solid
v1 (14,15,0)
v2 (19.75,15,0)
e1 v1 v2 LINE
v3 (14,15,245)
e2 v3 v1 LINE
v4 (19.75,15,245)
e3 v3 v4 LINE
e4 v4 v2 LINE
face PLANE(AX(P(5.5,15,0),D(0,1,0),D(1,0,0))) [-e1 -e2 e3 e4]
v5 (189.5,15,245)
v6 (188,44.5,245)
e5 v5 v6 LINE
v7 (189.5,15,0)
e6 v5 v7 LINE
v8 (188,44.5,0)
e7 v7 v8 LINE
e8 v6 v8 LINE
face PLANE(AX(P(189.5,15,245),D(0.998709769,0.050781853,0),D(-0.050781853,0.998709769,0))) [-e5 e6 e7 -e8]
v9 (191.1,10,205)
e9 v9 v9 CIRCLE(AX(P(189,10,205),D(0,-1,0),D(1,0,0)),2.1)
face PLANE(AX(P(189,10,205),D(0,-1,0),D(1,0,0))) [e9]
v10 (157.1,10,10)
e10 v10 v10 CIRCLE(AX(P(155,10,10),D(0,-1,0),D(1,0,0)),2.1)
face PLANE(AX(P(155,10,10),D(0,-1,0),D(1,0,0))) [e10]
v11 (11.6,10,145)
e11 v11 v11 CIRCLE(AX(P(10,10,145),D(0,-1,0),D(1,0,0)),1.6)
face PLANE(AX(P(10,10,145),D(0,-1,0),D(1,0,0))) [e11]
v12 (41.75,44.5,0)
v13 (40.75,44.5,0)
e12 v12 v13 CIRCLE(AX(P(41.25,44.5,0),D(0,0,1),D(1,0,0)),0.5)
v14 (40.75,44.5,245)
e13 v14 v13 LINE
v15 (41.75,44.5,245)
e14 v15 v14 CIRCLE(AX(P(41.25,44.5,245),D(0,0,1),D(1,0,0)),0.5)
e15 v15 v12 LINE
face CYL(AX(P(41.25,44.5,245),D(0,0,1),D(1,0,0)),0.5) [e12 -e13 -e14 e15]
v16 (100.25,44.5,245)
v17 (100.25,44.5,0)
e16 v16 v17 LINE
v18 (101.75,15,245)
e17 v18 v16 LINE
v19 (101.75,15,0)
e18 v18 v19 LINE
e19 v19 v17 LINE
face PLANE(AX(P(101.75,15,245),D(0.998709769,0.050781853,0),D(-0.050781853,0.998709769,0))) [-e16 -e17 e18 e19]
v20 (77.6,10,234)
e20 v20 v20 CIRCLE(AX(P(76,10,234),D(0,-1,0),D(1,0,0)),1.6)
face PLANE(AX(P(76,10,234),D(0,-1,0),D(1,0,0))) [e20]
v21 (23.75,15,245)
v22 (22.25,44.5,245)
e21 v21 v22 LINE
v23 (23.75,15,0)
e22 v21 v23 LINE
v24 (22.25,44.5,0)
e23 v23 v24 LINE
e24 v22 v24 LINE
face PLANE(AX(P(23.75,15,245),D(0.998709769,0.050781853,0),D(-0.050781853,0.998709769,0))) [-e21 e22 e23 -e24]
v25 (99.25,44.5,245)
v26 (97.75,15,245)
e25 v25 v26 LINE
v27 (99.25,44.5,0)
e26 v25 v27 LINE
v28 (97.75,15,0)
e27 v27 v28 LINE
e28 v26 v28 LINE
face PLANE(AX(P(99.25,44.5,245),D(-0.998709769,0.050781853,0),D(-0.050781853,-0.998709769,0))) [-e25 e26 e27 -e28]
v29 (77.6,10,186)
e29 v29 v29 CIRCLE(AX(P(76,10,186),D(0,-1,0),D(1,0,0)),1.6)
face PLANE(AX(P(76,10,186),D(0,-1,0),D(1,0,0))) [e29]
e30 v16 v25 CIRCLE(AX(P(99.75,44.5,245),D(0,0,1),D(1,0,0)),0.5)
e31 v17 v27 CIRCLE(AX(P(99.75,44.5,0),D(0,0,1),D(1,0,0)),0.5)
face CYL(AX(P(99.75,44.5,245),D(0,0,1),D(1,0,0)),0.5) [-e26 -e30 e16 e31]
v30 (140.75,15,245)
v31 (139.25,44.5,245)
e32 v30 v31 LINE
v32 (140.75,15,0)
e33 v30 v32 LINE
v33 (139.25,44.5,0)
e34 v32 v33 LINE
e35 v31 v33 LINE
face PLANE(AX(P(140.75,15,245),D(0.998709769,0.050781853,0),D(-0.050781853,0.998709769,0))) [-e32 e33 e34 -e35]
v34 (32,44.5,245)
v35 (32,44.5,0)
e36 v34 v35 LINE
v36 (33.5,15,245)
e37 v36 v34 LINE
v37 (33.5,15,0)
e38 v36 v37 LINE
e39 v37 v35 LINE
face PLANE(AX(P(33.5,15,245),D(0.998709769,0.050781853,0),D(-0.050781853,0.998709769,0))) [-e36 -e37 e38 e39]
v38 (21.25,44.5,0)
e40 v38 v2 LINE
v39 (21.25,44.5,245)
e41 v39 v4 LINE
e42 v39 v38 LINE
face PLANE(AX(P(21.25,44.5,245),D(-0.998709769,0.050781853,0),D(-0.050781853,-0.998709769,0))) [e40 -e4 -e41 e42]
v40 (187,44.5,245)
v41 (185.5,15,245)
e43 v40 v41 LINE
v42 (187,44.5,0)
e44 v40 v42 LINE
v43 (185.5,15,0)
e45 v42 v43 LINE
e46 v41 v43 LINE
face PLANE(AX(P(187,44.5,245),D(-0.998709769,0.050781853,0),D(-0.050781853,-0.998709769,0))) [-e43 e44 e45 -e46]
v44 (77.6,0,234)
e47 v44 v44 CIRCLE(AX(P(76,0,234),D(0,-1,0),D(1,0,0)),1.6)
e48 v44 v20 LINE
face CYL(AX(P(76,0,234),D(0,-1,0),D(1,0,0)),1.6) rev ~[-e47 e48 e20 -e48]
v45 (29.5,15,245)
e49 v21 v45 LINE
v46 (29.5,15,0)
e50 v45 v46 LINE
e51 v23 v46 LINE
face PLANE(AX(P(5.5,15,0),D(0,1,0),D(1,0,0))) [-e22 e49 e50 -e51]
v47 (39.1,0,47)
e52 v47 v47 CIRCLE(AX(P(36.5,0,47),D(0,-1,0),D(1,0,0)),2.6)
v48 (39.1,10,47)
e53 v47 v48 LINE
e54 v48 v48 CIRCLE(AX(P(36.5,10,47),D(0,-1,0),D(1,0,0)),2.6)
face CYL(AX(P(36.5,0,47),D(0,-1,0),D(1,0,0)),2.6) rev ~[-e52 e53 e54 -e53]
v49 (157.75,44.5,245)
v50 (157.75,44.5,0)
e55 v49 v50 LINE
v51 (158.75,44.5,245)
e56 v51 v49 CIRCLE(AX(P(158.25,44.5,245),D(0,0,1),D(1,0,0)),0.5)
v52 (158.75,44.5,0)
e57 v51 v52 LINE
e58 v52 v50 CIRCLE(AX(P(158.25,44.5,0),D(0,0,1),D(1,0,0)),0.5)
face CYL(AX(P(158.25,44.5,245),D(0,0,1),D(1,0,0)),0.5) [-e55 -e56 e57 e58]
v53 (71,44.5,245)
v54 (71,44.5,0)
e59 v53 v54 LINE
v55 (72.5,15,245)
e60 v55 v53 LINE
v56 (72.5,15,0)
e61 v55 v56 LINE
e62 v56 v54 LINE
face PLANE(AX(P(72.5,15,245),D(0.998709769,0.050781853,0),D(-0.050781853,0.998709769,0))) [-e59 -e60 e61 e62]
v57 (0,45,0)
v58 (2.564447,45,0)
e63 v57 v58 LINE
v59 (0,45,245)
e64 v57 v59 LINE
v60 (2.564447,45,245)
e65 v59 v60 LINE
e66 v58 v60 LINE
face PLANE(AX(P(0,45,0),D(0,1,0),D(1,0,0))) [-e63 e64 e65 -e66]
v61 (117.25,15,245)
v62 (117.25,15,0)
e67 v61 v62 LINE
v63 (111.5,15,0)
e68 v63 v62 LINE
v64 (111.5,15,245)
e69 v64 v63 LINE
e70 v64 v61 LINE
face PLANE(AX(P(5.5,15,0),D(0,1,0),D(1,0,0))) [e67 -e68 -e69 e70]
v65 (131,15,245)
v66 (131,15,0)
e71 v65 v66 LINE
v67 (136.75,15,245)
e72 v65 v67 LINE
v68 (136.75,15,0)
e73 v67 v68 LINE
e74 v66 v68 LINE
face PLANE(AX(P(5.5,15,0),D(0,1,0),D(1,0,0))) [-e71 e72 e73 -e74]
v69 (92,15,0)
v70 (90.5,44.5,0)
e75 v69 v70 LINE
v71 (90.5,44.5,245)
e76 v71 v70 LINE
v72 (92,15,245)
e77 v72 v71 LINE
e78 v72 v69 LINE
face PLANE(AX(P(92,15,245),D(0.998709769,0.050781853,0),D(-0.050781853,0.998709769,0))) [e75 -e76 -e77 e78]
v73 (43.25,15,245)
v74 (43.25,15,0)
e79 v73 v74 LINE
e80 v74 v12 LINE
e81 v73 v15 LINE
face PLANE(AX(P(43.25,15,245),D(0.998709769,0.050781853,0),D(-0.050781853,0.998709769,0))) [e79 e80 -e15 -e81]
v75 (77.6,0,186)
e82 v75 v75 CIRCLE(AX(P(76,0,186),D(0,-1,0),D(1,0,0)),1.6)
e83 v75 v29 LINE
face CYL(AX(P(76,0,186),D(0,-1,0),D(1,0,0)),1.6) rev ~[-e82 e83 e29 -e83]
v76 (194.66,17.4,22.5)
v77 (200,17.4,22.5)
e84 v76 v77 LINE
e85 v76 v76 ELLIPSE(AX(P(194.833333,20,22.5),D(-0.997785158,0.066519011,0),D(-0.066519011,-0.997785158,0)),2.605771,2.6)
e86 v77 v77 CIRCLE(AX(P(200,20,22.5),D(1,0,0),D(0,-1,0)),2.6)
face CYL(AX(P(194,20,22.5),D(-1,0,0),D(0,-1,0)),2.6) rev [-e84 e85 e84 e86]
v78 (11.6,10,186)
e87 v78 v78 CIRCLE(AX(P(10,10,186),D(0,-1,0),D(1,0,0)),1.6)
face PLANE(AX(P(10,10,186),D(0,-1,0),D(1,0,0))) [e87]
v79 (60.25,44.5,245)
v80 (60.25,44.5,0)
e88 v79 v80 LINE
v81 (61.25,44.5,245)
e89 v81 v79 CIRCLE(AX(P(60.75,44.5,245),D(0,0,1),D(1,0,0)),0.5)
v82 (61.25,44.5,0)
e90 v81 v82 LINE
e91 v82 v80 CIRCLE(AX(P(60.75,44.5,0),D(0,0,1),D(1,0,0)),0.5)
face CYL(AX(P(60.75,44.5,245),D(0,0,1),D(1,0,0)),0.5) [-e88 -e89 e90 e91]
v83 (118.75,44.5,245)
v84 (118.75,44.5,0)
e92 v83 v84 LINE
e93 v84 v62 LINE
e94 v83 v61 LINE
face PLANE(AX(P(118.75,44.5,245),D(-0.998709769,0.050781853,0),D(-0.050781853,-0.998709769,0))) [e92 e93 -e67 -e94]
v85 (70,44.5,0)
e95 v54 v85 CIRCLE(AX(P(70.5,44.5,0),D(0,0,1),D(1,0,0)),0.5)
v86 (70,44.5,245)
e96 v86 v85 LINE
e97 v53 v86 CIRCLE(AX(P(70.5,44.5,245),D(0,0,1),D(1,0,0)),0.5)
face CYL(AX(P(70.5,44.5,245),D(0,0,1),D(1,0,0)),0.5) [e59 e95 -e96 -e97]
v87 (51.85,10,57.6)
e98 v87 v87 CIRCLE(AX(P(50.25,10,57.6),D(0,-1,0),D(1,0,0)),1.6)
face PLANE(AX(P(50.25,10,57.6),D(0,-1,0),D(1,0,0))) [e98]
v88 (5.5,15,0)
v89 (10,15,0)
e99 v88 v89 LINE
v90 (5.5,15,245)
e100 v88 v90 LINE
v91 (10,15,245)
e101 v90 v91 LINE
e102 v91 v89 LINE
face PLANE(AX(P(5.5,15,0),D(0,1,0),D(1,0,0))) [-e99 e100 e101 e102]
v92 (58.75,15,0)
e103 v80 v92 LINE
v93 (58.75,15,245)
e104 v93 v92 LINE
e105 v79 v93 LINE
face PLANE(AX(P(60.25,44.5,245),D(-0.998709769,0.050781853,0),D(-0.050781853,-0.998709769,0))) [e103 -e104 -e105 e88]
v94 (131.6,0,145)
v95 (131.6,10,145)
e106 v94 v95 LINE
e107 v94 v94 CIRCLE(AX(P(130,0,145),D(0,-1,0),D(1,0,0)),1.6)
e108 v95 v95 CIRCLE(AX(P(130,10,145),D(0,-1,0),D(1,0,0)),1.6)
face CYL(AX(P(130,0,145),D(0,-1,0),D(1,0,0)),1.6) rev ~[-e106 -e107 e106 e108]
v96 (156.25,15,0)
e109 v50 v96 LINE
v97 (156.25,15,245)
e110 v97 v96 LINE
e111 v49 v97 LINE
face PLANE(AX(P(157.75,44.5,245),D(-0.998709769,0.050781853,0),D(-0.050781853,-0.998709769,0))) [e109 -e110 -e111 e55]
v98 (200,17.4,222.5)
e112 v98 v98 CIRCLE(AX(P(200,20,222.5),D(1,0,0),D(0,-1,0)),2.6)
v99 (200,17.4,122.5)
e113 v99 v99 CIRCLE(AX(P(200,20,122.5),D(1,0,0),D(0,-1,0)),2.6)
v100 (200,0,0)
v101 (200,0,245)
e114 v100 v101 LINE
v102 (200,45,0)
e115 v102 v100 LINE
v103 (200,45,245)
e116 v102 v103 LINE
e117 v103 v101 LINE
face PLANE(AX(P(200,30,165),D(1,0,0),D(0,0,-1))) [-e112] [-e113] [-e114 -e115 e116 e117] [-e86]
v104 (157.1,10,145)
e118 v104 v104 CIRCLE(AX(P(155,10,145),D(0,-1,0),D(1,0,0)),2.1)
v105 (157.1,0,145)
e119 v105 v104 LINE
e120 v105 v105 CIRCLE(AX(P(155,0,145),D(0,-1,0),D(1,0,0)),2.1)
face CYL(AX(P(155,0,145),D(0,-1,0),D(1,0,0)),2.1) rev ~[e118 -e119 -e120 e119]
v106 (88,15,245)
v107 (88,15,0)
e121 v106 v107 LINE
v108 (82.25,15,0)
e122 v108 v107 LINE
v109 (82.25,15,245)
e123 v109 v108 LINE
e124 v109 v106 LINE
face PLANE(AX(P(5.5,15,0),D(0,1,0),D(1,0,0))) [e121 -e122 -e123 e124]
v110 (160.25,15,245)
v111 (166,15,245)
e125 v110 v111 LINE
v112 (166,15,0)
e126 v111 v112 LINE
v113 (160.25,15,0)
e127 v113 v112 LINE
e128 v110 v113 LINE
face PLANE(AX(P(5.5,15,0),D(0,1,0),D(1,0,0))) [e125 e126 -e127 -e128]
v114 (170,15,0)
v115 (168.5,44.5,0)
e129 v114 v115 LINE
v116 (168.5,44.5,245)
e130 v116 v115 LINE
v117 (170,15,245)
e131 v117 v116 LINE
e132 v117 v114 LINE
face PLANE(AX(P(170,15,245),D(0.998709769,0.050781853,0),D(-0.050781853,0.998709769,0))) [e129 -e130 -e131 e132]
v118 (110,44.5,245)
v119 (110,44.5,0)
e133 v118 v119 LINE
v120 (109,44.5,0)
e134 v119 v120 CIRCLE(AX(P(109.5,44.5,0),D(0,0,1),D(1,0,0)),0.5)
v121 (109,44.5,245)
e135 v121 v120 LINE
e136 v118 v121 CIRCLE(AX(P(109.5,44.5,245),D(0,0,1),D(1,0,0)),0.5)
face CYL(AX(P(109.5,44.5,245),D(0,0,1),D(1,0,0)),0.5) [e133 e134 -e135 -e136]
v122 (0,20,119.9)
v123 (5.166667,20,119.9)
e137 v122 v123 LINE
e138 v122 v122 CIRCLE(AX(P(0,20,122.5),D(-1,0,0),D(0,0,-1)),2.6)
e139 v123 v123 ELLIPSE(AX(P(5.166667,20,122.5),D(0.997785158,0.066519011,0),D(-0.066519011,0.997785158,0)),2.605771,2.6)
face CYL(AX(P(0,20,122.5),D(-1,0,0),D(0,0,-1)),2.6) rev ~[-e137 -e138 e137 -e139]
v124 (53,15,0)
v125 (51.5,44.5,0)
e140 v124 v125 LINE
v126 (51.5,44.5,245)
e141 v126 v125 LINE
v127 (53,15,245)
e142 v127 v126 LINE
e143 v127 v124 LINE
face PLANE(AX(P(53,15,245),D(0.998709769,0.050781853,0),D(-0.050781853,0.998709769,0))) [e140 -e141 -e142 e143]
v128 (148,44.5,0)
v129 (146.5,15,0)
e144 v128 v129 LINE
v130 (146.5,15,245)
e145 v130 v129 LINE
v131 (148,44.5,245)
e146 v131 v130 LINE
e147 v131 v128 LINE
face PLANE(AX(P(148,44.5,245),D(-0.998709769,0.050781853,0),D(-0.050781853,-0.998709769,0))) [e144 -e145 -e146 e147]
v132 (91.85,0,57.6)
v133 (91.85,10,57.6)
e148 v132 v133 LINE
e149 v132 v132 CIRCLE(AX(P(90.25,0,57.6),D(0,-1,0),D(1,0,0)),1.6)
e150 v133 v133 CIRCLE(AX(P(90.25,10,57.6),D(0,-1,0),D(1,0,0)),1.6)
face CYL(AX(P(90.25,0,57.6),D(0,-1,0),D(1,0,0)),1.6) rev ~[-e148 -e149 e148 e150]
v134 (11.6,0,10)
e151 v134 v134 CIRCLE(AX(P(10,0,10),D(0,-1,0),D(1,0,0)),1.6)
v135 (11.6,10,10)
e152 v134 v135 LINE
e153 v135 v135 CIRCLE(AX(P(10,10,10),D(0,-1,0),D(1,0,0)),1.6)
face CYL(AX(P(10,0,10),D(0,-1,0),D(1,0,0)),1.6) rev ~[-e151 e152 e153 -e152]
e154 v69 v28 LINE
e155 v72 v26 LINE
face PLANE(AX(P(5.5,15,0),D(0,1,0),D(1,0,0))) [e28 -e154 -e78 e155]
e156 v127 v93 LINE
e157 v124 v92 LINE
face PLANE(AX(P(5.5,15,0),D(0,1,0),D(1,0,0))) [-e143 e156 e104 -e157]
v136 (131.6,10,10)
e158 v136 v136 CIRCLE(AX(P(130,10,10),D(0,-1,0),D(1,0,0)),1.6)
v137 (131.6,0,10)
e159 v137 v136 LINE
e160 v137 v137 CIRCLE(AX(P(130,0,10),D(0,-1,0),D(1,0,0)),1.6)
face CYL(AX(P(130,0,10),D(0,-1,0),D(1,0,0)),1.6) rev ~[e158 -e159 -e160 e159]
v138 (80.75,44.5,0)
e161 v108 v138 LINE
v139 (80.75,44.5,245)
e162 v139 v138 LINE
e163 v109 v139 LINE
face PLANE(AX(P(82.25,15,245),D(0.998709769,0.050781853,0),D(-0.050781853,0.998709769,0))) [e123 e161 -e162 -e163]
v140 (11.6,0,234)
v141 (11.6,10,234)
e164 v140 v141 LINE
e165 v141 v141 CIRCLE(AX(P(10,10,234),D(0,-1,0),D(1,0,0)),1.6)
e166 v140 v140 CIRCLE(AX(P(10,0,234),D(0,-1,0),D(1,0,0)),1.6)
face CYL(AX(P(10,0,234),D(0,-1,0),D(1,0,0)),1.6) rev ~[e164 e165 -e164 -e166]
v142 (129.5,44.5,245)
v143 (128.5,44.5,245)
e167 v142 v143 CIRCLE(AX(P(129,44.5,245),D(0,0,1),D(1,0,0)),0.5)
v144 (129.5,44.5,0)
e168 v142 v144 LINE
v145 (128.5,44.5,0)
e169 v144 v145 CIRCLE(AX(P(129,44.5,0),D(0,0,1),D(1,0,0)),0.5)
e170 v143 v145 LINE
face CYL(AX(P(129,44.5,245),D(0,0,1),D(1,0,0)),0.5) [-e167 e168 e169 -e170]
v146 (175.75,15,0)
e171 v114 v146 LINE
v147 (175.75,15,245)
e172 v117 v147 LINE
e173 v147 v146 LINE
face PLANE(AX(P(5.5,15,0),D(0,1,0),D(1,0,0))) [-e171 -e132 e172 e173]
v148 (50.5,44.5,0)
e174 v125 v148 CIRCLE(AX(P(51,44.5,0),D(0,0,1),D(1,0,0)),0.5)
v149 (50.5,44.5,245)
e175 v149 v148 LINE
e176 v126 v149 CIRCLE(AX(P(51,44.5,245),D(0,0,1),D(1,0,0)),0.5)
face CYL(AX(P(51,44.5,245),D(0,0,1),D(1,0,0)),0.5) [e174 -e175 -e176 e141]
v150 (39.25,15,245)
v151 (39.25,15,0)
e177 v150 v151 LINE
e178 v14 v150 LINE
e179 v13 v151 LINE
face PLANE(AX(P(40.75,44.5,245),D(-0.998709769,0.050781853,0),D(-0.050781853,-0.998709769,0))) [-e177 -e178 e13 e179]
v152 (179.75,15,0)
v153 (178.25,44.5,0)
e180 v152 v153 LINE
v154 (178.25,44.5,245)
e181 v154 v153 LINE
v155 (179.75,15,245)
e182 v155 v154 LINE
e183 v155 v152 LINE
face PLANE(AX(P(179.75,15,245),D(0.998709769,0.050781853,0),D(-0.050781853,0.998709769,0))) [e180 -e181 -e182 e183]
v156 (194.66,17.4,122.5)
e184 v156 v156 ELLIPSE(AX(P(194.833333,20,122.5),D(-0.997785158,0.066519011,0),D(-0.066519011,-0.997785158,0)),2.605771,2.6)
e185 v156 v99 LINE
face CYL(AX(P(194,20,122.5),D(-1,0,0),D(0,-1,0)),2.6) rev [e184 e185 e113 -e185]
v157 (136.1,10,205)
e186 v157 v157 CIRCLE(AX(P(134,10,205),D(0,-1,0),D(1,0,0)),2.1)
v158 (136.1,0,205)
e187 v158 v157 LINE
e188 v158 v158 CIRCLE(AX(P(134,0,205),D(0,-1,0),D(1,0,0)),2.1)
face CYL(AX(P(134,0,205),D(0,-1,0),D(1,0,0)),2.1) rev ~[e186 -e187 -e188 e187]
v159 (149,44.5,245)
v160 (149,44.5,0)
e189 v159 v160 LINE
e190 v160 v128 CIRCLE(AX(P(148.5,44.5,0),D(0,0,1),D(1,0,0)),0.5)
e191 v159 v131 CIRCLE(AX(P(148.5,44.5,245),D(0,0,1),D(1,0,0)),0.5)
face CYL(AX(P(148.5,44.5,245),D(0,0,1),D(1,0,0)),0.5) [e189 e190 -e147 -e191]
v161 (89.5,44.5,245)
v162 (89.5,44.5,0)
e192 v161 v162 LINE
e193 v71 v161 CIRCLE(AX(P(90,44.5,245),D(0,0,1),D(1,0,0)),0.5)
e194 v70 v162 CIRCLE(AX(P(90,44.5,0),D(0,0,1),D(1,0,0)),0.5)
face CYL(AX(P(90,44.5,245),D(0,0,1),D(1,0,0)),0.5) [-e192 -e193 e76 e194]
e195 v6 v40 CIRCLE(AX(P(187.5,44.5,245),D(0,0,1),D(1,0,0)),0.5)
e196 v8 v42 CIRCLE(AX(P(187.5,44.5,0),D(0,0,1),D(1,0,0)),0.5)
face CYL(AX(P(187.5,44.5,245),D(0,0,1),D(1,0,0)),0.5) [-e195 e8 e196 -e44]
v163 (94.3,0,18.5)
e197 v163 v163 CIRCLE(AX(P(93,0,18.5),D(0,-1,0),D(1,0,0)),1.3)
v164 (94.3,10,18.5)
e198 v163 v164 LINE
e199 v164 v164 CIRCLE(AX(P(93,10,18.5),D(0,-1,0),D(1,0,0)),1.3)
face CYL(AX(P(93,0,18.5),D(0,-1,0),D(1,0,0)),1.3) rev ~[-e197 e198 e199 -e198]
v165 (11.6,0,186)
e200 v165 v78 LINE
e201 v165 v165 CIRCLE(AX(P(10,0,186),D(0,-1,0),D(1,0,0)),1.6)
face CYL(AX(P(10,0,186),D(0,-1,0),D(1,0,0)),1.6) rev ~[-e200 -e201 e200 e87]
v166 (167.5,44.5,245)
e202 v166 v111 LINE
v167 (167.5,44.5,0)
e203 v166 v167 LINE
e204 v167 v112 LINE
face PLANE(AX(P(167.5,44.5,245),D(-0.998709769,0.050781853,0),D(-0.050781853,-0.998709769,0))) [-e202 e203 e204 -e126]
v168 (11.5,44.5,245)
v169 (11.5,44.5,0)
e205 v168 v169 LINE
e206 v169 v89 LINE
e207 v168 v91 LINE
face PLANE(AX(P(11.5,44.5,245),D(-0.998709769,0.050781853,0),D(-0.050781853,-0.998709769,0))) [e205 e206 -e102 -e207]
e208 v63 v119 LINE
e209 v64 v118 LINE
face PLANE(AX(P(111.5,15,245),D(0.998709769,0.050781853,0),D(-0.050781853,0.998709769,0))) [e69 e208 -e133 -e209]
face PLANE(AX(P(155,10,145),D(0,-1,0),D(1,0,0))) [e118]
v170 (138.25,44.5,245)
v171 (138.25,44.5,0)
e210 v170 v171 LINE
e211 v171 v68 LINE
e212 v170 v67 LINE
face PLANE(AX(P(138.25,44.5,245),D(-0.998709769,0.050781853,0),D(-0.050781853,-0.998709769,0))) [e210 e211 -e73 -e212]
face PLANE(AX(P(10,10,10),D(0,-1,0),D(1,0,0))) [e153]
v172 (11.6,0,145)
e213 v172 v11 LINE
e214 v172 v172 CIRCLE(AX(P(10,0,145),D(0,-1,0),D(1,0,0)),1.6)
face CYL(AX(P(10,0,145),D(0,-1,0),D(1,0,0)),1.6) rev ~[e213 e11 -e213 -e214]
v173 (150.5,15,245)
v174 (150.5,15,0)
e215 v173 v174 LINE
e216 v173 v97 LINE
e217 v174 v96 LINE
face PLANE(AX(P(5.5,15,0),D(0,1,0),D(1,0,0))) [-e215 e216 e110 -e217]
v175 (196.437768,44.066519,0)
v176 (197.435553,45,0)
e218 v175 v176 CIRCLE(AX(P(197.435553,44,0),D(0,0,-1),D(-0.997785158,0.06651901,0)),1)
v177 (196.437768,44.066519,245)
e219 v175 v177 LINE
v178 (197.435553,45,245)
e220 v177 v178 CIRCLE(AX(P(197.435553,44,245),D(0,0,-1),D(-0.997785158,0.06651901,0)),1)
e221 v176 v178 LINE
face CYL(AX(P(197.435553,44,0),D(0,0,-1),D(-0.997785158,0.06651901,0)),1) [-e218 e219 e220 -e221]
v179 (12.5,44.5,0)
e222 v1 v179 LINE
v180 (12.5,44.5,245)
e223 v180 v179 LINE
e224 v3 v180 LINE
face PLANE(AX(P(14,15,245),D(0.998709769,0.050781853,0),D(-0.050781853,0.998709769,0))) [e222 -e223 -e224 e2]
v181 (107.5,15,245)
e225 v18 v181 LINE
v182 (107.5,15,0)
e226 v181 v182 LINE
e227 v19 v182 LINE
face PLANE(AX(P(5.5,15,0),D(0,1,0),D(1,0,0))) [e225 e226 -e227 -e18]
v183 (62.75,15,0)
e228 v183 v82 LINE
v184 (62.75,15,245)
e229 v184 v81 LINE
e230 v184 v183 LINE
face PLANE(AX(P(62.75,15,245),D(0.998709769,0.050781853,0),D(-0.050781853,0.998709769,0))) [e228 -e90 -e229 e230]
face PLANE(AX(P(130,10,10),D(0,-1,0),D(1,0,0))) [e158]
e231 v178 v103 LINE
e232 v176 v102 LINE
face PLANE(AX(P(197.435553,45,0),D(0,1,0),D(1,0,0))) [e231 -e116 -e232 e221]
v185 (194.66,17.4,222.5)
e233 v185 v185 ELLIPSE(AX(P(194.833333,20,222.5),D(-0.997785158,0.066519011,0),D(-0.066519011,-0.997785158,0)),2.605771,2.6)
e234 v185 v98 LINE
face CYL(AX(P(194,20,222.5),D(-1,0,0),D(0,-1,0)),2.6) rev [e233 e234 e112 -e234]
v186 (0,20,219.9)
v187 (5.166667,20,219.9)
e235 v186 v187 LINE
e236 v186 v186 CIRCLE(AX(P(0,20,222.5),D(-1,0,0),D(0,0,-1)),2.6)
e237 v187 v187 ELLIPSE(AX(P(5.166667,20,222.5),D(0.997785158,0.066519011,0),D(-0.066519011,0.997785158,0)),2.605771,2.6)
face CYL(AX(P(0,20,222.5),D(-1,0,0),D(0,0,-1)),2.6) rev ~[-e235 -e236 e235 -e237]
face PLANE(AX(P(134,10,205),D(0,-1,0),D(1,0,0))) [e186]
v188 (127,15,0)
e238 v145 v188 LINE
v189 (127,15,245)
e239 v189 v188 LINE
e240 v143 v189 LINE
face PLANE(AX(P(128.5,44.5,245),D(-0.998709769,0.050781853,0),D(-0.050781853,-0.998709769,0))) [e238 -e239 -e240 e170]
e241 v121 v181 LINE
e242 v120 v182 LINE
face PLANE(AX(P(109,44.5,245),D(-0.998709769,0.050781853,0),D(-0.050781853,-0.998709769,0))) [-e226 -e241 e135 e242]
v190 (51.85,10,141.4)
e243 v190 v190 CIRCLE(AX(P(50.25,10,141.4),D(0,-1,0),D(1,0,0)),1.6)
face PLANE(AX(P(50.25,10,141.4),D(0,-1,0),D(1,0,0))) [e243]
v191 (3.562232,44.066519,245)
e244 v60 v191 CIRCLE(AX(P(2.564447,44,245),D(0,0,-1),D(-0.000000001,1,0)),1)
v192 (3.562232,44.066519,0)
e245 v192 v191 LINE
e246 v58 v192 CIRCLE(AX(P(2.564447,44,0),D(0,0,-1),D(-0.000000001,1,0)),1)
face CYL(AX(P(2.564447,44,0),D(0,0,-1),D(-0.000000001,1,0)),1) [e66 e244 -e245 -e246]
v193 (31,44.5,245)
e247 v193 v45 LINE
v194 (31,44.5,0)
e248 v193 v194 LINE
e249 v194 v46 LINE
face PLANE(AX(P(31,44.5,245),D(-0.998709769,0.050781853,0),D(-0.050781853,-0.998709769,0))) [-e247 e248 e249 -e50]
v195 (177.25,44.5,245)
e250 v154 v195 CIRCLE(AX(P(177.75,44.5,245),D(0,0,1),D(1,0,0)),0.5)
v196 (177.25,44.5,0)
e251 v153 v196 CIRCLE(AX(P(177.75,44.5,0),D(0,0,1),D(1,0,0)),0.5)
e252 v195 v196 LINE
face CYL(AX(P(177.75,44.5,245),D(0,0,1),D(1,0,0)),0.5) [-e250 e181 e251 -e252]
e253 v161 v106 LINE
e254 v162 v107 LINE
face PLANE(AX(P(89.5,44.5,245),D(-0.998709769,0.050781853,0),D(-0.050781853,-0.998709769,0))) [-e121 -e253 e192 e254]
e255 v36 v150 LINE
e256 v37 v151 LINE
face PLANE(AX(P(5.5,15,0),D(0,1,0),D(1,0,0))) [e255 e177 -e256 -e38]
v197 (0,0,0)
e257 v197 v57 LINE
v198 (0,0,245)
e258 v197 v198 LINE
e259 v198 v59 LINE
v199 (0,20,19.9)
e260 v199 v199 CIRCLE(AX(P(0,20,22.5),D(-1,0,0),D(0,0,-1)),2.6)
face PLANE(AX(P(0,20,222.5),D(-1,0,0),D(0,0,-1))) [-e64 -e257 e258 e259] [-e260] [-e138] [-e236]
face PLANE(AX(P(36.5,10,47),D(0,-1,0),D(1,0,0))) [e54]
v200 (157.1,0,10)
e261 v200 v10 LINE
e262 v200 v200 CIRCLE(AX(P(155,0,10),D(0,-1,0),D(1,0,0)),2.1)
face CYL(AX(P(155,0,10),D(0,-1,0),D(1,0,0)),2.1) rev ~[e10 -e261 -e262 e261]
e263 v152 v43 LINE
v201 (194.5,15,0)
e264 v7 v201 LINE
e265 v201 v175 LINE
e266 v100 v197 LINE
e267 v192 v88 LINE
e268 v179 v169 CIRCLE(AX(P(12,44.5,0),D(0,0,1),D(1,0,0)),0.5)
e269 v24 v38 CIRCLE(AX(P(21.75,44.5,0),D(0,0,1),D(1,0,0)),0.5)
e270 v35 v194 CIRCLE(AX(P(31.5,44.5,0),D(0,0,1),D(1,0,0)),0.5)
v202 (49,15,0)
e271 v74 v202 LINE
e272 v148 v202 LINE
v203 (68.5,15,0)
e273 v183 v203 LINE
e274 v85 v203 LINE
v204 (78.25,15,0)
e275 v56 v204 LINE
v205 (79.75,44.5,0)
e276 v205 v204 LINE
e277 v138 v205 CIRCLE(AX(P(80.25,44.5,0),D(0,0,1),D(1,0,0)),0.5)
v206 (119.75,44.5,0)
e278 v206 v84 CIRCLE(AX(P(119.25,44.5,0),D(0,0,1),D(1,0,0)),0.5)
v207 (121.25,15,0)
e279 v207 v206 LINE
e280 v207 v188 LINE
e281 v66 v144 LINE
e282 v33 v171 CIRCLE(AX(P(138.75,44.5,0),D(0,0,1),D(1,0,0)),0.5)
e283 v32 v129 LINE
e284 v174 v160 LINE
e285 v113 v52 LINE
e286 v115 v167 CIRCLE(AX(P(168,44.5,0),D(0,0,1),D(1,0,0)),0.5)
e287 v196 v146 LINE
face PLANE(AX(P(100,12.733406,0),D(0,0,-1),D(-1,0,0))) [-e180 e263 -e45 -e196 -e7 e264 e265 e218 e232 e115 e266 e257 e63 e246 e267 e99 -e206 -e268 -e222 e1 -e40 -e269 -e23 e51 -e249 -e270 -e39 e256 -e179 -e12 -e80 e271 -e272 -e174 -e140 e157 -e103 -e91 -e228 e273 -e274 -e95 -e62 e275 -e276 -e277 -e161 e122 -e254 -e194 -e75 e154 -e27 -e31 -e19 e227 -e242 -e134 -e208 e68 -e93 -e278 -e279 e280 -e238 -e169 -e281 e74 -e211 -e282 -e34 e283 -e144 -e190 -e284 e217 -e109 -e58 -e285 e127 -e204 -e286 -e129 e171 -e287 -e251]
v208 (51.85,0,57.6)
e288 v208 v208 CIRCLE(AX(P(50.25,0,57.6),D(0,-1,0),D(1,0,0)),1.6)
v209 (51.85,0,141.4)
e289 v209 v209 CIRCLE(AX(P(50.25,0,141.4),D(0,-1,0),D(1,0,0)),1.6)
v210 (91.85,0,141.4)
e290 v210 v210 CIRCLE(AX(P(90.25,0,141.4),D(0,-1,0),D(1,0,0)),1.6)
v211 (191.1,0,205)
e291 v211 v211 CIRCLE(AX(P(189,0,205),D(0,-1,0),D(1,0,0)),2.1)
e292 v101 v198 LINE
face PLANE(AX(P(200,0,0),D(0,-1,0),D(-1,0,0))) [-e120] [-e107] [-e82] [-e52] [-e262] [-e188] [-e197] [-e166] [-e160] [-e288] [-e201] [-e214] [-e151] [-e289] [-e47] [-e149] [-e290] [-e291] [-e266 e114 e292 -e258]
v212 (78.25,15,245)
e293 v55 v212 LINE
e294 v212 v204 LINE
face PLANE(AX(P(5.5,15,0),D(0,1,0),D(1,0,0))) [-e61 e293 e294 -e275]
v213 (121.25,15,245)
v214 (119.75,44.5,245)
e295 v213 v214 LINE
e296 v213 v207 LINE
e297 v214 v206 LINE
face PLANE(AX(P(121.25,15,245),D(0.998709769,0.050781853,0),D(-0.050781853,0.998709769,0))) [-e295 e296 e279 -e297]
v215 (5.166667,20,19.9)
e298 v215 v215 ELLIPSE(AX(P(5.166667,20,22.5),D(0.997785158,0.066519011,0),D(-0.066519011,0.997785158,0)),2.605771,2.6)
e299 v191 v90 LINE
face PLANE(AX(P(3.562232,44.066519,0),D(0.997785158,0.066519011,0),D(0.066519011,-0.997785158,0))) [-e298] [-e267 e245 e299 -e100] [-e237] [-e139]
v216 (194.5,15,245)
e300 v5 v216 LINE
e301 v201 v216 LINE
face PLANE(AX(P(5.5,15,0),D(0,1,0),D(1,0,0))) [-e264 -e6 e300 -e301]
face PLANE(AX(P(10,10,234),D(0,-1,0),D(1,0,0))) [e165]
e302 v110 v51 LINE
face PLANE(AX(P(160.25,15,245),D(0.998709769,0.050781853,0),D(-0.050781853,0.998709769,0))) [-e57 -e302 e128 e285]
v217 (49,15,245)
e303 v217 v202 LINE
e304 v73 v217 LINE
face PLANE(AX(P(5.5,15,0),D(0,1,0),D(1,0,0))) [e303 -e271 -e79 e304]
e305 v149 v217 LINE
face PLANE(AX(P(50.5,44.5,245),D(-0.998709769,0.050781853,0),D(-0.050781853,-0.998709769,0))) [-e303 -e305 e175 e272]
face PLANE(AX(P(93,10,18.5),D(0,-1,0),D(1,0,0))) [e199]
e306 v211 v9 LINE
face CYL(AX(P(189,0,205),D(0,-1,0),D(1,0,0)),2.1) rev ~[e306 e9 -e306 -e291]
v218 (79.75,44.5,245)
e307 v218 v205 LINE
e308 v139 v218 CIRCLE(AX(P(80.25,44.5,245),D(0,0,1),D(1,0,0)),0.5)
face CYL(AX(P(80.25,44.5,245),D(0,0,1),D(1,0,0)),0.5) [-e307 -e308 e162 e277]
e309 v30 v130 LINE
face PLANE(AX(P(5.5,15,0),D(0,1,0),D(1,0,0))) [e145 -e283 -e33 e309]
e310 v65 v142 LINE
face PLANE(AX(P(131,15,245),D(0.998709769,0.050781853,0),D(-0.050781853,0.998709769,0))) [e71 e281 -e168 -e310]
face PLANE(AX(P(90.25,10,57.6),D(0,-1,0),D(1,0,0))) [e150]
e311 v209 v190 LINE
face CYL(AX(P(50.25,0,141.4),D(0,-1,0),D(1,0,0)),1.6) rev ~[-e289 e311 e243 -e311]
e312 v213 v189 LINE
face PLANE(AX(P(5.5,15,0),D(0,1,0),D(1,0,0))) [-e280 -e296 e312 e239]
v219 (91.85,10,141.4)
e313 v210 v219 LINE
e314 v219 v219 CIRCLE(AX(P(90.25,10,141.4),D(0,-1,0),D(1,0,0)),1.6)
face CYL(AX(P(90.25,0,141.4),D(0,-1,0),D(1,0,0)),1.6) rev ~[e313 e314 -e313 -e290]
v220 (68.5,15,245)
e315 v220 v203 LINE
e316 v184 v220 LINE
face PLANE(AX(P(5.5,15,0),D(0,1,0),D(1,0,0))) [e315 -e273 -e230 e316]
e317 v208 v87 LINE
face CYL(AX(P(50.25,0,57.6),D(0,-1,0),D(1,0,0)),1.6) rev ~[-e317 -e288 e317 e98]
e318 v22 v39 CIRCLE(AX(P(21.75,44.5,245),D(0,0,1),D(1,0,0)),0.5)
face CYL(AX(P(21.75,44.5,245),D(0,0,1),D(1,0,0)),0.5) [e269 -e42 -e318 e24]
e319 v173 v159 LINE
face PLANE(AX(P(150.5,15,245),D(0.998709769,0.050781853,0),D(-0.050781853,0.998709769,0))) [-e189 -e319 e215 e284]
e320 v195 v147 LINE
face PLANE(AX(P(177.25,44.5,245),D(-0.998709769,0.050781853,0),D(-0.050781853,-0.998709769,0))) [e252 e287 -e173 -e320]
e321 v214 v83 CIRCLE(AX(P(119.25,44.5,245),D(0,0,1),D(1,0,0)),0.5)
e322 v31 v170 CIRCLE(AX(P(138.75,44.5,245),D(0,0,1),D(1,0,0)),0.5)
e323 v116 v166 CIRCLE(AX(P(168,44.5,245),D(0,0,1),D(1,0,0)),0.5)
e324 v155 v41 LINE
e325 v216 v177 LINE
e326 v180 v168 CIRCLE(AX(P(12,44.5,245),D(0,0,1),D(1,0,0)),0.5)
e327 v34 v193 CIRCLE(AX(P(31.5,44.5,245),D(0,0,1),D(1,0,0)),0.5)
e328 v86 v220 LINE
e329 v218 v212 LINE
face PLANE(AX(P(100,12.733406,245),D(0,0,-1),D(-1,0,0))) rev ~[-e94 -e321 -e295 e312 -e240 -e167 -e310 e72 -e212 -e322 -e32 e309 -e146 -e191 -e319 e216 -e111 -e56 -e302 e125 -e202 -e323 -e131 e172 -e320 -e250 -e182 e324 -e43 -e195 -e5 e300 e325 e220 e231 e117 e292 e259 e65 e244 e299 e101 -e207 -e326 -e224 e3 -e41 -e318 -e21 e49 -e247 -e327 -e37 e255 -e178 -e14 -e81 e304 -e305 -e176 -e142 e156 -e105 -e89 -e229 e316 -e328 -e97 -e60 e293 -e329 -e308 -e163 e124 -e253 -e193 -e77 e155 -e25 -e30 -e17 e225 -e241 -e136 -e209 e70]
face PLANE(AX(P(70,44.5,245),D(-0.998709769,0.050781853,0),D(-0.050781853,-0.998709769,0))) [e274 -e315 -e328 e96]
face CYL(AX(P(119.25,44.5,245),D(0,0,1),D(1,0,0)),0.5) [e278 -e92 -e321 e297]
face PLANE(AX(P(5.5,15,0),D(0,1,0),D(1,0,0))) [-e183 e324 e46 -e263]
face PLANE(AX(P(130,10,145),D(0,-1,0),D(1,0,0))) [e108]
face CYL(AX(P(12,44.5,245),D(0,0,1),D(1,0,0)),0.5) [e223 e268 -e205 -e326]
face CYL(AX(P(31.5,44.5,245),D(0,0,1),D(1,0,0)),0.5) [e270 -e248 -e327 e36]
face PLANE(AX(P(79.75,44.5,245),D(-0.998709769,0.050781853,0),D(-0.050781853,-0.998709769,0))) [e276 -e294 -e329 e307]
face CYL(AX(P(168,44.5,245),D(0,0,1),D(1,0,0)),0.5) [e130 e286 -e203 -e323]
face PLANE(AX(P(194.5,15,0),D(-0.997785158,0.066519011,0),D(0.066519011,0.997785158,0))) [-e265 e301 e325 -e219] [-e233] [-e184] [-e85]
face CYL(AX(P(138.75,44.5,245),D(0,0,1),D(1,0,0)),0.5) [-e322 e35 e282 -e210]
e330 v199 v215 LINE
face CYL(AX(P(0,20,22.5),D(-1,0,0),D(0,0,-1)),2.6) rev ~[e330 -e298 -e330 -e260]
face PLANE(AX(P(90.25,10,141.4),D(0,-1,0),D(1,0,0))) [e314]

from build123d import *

# Parameters (mm, degrees)
EXTRUDE_1_DEPTH       = 245
EXTRUDE_3_DEPTH       = 245
PATTERN_CURVE_1_COUNT = 19
PATTERN_CURVE_1_PITCH = 9.75
SKETCH_7_R            = 2.6
CUT_EXTRUDE_4_DEPTH   = 6
SKETCH_8_R            = 4.5
SKETCH_8_R_2          = 3.4
CUT_EXTRUDE_5_DEPTH   = 6
CUT_EXTRUDE_START     = -6
SKETCH_9_R            = 2.6
CUT_EXTRUDE_6_DEPTH   = 6
EXTRUDE_4_REACH       = 321.453
SKETCH_11_R           = 2.6
EXTRUDE_5_REACH       = 321.453
SKETCH_12_R           = 4.5
SKETCH_12_R_2         = 3.4
SKETCH_19_R           = 2.6
CUT_EXTRUDE_12_DEPTH  = 8
SKETCH_21_R           = 2.6
SKETCH_21_R_2         = 1.6
SKETCH_21_R_3         = 1.3
SKETCH_21_R_4         = 2.1
CUT_EXTRUDE_13_DEPTH  = 10


with BuildPart() as part:
    # Эскиз1 → Вытянуть1 (new body)
    with BuildSketch(Plane.XY):
        with BuildLine():
            Line((0, 45), (2.564446908, 45))
            ThreePointArc((2.564446908, 45), (3.247630994, 44.730246195), (3.562232066, 44.066519011))
            Line((3.562232066, 44.066519011), (5.5, 15))
            Line((5.5, 15), (194.5, 15))
            Line((194.5, 15), (196.437767934, 44.066519011))
            ThreePointArc((196.437767934, 44.066519011), (196.752369006, 44.730246195), (197.435553092, 45))
            Line((197.435553092, 45), (200, 45))
            Line((200, 45), (200, 0))
            Line((200, 0), (0, 0))
            Line((0, 0), (0, 45))
        make_face()
    extrude(amount=EXTRUDE_1_DEPTH)

    # Эскиз2 → Вытянуть3 (add)
    with BuildSketch(Plane.XY.offset(245)):
        with BuildLine():
            Line((11.5, 44.5), (10, 15))
            Line((10, 15), (14, 15))
            Line((14, 15), (12.5, 44.5))
            ThreePointArc((12.5, 44.5), (12, 45), (11.5, 44.5))
        make_face()
    extrude_3 = extrude(amount=-EXTRUDE_3_DEPTH)

    # Кривая1: Вытянуть3 ×19
    with Locations(*[(i * PATTERN_CURVE_1_PITCH, 0, 0) for i in range(1, PATTERN_CURVE_1_COUNT)]):
        add(extrude_3)

    # Эскиз7 → Вырез-Вытянуть4 (cut)
    with BuildSketch(Plane.ZY):
        with Locations(Location((22.5, 20, 0), (0, 0, 270))):
            Circle(SKETCH_7_R)
        with Locations(Location((222.5, 20, 0), (0, 0, 270))):
            Circle(SKETCH_7_R)
        with Locations(Location((122.5, 20, 0), (0, 0, 270))):
            Circle(SKETCH_7_R)
    extrude(amount=-CUT_EXTRUDE_4_DEPTH, mode=Mode.SUBTRACT)

    # Эскиз8 → Вырез-Вытянуть5 (cut)
    with BuildSketch(Plane(origin=(200, 0, 0), x_dir=(0, 0, -1), z_dir=(1, 0, 0))):
        with Locations((-80, 30)):
            Circle(SKETCH_8_R)
        with Locations((-165, 30)):
            Circle(SKETCH_8_R_2)
    extrude(amount=-CUT_EXTRUDE_5_DEPTH, mode=Mode.SUBTRACT)

    # Эскиз9 → Вырез-Вытянуть6 (cut)
    with BuildSketch(Plane(origin=(200, 0, 0), x_dir=(0, 0, -1), z_dir=(1, 0, 0)).offset(CUT_EXTRUDE_START)):
        with Locations(Location((-22.5, 20, 0), (0, 0, 270))):
            Circle(SKETCH_9_R)
        with Locations(Location((-122.5, 20, 0), (0, 0, 270))):
            Circle(SKETCH_9_R)
        with Locations(Location((-222.5, 20, 0), (0, 0, 270))):
            Circle(SKETCH_9_R)
    extrude(amount=CUT_EXTRUDE_6_DEPTH, mode=Mode.SUBTRACT)

    # Вытянуть4: up to this face of the body (flat: up to its plane)
    extrude_4_end = Plane(part.part.faces().sort_by_distance((4.525378677, 29.61931985, 122.5))[0])
    # Эскиз11 → Вытянуть4 (add, up to the picked face)
    with BuildSketch(Plane.ZY, mode=Mode.PRIVATE) as extrude_4_sk1:
        with Locations(Location((22.5, 20, 0), (0, 0, 180))):
            Circle(SKETCH_11_R)
    extrude_4_tool1 = split(extrude(extrude_4_sk1.sketch, amount=-EXTRUDE_4_REACH, mode=Mode.PRIVATE), bisect_by=extrude_4_end, keep=Keep.BOTH, mode=Mode.PRIVATE)
    # Эскиз11 → Вытянуть4 (add, up to the picked face)
    with BuildSketch(Plane.ZY, mode=Mode.PRIVATE) as extrude_4_sk2:
        with Locations(Location((122.5, 20, 0), (0, 0, 180))):
            Circle(SKETCH_11_R)
    extrude_4_tool2 = split(extrude(extrude_4_sk2.sketch, amount=-EXTRUDE_4_REACH, mode=Mode.PRIVATE), bisect_by=extrude_4_end, keep=Keep.BOTH, mode=Mode.PRIVATE)
    # Эскиз11 → Вытянуть4 (add, up to the picked face)
    with BuildSketch(Plane.ZY, mode=Mode.PRIVATE) as extrude_4_sk3:
        with Locations(Location((222.5, 20, 0), (0, 0, 180))):
            Circle(SKETCH_11_R)
    extrude_4_tool3 = split(extrude(extrude_4_sk3.sketch, amount=-EXTRUDE_4_REACH, mode=Mode.PRIVATE), bisect_by=extrude_4_end, keep=Keep.BOTH, mode=Mode.PRIVATE)
    add(extrude_4_tool1.solids().sort_by(Axis((0, 20, 22.5), (1, 0, 0)))[0])
    add(extrude_4_tool2.solids().sort_by(Axis((0, 20, 122.5), (1, 0, 0)))[0])
    add(extrude_4_tool3.solids().sort_by(Axis((0, 20, 222.5), (1, 0, 0)))[0])

    # Вытянуть5: up to this face of the body (flat: up to its plane)
    extrude_5_end = Plane(part.part.faces().sort_by_distance((195.474256805, 29.613852069, 122.666761542))[0])
    # Эскиз12 → Вытянуть5 (add, up to the picked face)
    with BuildSketch(Plane(origin=(200, 0, 0), x_dir=(0, 0, -1), z_dir=(1, 0, 0)), mode=Mode.PRIVATE) as extrude_5_sk1:
        with Locations((-80, 30)):
            Circle(SKETCH_12_R)
    extrude_5_tool1 = split(extrude(extrude_5_sk1.sketch, amount=-EXTRUDE_5_REACH, mode=Mode.PRIVATE), bisect_by=extrude_5_end, keep=Keep.BOTH, mode=Mode.PRIVATE)
    # Эскиз12 → Вытянуть5 (add, up to the picked face)
    with BuildSketch(Plane(origin=(200, 0, 0), x_dir=(0, 0, -1), z_dir=(1, 0, 0)), mode=Mode.PRIVATE) as extrude_5_sk2:
        with Locations((-165, 30)):
            Circle(SKETCH_12_R_2)
    extrude_5_tool2 = split(extrude(extrude_5_sk2.sketch, amount=-EXTRUDE_5_REACH, mode=Mode.PRIVATE), bisect_by=extrude_5_end, keep=Keep.BOTH, mode=Mode.PRIVATE)
    add(extrude_5_tool1.solids().sort_by(Axis((200, 30, 80), (-1, 0, 0)))[0])
    add(extrude_5_tool2.solids().sort_by(Axis((200, 30, 165), (-1, 0, 0)))[0])

    # Эскиз19 → Вырез-Вытянуть12 (cut)
    with BuildSketch(Plane.ZY):
        with Locations(Location((222.5, 20, 0), (0, 0, 180))):
            Circle(SKETCH_19_R)
        with Locations(Location((122.5, 20, 0), (0, 0, 180))):
            Circle(SKETCH_19_R)
        with Locations(Location((22.5, 20, 0), (0, 0, 180))):
            Circle(SKETCH_19_R)
    extrude(amount=-CUT_EXTRUDE_12_DEPTH, mode=Mode.SUBTRACT)

    # Эскиз21 → Вырез-Вытянуть13 (cut)
    with BuildSketch(Plane.XZ):
        with Locations((36.5, 47)):
            Circle(SKETCH_21_R)
        with Locations((10, 145)):
            Circle(SKETCH_21_R_2)
        with Locations((10, 10)):
            Circle(SKETCH_21_R_2)
        with Locations((130, 10)):
            Circle(SKETCH_21_R_2)
        with Locations((130, 145)):
            Circle(SKETCH_21_R_2)
        with Locations((50.25, 141.4)):
            Circle(SKETCH_21_R_2)
        with Locations((90.25, 141.4)):
            Circle(SKETCH_21_R_2)
        with Locations((50.25, 57.6)):
            Circle(SKETCH_21_R_2)
        with Locations((90.25, 57.6)):
            Circle(SKETCH_21_R_2)
        with Locations((93, 18.5)):
            Circle(SKETCH_21_R_3)
        with Locations((134, 205)):
            Circle(SKETCH_21_R_4)
        with Locations((155, 145)):
            Circle(SKETCH_21_R_4)
        with Locations((189, 205)):
            Circle(SKETCH_21_R_4)
        with Locations((155, 10)):
            Circle(SKETCH_21_R_4)
        with Locations((76, 234)):
            Circle(SKETCH_21_R_2)
        with Locations((10, 234)):
            Circle(SKETCH_21_R_2)
        with Locations((10, 186)):
            Circle(SKETCH_21_R_2)
        with Locations((76, 186)):
            Circle(SKETCH_21_R_2)
    extrude(amount=-CUT_EXTRUDE_13_DEPTH, mode=Mode.SUBTRACT)


solid = part.part
